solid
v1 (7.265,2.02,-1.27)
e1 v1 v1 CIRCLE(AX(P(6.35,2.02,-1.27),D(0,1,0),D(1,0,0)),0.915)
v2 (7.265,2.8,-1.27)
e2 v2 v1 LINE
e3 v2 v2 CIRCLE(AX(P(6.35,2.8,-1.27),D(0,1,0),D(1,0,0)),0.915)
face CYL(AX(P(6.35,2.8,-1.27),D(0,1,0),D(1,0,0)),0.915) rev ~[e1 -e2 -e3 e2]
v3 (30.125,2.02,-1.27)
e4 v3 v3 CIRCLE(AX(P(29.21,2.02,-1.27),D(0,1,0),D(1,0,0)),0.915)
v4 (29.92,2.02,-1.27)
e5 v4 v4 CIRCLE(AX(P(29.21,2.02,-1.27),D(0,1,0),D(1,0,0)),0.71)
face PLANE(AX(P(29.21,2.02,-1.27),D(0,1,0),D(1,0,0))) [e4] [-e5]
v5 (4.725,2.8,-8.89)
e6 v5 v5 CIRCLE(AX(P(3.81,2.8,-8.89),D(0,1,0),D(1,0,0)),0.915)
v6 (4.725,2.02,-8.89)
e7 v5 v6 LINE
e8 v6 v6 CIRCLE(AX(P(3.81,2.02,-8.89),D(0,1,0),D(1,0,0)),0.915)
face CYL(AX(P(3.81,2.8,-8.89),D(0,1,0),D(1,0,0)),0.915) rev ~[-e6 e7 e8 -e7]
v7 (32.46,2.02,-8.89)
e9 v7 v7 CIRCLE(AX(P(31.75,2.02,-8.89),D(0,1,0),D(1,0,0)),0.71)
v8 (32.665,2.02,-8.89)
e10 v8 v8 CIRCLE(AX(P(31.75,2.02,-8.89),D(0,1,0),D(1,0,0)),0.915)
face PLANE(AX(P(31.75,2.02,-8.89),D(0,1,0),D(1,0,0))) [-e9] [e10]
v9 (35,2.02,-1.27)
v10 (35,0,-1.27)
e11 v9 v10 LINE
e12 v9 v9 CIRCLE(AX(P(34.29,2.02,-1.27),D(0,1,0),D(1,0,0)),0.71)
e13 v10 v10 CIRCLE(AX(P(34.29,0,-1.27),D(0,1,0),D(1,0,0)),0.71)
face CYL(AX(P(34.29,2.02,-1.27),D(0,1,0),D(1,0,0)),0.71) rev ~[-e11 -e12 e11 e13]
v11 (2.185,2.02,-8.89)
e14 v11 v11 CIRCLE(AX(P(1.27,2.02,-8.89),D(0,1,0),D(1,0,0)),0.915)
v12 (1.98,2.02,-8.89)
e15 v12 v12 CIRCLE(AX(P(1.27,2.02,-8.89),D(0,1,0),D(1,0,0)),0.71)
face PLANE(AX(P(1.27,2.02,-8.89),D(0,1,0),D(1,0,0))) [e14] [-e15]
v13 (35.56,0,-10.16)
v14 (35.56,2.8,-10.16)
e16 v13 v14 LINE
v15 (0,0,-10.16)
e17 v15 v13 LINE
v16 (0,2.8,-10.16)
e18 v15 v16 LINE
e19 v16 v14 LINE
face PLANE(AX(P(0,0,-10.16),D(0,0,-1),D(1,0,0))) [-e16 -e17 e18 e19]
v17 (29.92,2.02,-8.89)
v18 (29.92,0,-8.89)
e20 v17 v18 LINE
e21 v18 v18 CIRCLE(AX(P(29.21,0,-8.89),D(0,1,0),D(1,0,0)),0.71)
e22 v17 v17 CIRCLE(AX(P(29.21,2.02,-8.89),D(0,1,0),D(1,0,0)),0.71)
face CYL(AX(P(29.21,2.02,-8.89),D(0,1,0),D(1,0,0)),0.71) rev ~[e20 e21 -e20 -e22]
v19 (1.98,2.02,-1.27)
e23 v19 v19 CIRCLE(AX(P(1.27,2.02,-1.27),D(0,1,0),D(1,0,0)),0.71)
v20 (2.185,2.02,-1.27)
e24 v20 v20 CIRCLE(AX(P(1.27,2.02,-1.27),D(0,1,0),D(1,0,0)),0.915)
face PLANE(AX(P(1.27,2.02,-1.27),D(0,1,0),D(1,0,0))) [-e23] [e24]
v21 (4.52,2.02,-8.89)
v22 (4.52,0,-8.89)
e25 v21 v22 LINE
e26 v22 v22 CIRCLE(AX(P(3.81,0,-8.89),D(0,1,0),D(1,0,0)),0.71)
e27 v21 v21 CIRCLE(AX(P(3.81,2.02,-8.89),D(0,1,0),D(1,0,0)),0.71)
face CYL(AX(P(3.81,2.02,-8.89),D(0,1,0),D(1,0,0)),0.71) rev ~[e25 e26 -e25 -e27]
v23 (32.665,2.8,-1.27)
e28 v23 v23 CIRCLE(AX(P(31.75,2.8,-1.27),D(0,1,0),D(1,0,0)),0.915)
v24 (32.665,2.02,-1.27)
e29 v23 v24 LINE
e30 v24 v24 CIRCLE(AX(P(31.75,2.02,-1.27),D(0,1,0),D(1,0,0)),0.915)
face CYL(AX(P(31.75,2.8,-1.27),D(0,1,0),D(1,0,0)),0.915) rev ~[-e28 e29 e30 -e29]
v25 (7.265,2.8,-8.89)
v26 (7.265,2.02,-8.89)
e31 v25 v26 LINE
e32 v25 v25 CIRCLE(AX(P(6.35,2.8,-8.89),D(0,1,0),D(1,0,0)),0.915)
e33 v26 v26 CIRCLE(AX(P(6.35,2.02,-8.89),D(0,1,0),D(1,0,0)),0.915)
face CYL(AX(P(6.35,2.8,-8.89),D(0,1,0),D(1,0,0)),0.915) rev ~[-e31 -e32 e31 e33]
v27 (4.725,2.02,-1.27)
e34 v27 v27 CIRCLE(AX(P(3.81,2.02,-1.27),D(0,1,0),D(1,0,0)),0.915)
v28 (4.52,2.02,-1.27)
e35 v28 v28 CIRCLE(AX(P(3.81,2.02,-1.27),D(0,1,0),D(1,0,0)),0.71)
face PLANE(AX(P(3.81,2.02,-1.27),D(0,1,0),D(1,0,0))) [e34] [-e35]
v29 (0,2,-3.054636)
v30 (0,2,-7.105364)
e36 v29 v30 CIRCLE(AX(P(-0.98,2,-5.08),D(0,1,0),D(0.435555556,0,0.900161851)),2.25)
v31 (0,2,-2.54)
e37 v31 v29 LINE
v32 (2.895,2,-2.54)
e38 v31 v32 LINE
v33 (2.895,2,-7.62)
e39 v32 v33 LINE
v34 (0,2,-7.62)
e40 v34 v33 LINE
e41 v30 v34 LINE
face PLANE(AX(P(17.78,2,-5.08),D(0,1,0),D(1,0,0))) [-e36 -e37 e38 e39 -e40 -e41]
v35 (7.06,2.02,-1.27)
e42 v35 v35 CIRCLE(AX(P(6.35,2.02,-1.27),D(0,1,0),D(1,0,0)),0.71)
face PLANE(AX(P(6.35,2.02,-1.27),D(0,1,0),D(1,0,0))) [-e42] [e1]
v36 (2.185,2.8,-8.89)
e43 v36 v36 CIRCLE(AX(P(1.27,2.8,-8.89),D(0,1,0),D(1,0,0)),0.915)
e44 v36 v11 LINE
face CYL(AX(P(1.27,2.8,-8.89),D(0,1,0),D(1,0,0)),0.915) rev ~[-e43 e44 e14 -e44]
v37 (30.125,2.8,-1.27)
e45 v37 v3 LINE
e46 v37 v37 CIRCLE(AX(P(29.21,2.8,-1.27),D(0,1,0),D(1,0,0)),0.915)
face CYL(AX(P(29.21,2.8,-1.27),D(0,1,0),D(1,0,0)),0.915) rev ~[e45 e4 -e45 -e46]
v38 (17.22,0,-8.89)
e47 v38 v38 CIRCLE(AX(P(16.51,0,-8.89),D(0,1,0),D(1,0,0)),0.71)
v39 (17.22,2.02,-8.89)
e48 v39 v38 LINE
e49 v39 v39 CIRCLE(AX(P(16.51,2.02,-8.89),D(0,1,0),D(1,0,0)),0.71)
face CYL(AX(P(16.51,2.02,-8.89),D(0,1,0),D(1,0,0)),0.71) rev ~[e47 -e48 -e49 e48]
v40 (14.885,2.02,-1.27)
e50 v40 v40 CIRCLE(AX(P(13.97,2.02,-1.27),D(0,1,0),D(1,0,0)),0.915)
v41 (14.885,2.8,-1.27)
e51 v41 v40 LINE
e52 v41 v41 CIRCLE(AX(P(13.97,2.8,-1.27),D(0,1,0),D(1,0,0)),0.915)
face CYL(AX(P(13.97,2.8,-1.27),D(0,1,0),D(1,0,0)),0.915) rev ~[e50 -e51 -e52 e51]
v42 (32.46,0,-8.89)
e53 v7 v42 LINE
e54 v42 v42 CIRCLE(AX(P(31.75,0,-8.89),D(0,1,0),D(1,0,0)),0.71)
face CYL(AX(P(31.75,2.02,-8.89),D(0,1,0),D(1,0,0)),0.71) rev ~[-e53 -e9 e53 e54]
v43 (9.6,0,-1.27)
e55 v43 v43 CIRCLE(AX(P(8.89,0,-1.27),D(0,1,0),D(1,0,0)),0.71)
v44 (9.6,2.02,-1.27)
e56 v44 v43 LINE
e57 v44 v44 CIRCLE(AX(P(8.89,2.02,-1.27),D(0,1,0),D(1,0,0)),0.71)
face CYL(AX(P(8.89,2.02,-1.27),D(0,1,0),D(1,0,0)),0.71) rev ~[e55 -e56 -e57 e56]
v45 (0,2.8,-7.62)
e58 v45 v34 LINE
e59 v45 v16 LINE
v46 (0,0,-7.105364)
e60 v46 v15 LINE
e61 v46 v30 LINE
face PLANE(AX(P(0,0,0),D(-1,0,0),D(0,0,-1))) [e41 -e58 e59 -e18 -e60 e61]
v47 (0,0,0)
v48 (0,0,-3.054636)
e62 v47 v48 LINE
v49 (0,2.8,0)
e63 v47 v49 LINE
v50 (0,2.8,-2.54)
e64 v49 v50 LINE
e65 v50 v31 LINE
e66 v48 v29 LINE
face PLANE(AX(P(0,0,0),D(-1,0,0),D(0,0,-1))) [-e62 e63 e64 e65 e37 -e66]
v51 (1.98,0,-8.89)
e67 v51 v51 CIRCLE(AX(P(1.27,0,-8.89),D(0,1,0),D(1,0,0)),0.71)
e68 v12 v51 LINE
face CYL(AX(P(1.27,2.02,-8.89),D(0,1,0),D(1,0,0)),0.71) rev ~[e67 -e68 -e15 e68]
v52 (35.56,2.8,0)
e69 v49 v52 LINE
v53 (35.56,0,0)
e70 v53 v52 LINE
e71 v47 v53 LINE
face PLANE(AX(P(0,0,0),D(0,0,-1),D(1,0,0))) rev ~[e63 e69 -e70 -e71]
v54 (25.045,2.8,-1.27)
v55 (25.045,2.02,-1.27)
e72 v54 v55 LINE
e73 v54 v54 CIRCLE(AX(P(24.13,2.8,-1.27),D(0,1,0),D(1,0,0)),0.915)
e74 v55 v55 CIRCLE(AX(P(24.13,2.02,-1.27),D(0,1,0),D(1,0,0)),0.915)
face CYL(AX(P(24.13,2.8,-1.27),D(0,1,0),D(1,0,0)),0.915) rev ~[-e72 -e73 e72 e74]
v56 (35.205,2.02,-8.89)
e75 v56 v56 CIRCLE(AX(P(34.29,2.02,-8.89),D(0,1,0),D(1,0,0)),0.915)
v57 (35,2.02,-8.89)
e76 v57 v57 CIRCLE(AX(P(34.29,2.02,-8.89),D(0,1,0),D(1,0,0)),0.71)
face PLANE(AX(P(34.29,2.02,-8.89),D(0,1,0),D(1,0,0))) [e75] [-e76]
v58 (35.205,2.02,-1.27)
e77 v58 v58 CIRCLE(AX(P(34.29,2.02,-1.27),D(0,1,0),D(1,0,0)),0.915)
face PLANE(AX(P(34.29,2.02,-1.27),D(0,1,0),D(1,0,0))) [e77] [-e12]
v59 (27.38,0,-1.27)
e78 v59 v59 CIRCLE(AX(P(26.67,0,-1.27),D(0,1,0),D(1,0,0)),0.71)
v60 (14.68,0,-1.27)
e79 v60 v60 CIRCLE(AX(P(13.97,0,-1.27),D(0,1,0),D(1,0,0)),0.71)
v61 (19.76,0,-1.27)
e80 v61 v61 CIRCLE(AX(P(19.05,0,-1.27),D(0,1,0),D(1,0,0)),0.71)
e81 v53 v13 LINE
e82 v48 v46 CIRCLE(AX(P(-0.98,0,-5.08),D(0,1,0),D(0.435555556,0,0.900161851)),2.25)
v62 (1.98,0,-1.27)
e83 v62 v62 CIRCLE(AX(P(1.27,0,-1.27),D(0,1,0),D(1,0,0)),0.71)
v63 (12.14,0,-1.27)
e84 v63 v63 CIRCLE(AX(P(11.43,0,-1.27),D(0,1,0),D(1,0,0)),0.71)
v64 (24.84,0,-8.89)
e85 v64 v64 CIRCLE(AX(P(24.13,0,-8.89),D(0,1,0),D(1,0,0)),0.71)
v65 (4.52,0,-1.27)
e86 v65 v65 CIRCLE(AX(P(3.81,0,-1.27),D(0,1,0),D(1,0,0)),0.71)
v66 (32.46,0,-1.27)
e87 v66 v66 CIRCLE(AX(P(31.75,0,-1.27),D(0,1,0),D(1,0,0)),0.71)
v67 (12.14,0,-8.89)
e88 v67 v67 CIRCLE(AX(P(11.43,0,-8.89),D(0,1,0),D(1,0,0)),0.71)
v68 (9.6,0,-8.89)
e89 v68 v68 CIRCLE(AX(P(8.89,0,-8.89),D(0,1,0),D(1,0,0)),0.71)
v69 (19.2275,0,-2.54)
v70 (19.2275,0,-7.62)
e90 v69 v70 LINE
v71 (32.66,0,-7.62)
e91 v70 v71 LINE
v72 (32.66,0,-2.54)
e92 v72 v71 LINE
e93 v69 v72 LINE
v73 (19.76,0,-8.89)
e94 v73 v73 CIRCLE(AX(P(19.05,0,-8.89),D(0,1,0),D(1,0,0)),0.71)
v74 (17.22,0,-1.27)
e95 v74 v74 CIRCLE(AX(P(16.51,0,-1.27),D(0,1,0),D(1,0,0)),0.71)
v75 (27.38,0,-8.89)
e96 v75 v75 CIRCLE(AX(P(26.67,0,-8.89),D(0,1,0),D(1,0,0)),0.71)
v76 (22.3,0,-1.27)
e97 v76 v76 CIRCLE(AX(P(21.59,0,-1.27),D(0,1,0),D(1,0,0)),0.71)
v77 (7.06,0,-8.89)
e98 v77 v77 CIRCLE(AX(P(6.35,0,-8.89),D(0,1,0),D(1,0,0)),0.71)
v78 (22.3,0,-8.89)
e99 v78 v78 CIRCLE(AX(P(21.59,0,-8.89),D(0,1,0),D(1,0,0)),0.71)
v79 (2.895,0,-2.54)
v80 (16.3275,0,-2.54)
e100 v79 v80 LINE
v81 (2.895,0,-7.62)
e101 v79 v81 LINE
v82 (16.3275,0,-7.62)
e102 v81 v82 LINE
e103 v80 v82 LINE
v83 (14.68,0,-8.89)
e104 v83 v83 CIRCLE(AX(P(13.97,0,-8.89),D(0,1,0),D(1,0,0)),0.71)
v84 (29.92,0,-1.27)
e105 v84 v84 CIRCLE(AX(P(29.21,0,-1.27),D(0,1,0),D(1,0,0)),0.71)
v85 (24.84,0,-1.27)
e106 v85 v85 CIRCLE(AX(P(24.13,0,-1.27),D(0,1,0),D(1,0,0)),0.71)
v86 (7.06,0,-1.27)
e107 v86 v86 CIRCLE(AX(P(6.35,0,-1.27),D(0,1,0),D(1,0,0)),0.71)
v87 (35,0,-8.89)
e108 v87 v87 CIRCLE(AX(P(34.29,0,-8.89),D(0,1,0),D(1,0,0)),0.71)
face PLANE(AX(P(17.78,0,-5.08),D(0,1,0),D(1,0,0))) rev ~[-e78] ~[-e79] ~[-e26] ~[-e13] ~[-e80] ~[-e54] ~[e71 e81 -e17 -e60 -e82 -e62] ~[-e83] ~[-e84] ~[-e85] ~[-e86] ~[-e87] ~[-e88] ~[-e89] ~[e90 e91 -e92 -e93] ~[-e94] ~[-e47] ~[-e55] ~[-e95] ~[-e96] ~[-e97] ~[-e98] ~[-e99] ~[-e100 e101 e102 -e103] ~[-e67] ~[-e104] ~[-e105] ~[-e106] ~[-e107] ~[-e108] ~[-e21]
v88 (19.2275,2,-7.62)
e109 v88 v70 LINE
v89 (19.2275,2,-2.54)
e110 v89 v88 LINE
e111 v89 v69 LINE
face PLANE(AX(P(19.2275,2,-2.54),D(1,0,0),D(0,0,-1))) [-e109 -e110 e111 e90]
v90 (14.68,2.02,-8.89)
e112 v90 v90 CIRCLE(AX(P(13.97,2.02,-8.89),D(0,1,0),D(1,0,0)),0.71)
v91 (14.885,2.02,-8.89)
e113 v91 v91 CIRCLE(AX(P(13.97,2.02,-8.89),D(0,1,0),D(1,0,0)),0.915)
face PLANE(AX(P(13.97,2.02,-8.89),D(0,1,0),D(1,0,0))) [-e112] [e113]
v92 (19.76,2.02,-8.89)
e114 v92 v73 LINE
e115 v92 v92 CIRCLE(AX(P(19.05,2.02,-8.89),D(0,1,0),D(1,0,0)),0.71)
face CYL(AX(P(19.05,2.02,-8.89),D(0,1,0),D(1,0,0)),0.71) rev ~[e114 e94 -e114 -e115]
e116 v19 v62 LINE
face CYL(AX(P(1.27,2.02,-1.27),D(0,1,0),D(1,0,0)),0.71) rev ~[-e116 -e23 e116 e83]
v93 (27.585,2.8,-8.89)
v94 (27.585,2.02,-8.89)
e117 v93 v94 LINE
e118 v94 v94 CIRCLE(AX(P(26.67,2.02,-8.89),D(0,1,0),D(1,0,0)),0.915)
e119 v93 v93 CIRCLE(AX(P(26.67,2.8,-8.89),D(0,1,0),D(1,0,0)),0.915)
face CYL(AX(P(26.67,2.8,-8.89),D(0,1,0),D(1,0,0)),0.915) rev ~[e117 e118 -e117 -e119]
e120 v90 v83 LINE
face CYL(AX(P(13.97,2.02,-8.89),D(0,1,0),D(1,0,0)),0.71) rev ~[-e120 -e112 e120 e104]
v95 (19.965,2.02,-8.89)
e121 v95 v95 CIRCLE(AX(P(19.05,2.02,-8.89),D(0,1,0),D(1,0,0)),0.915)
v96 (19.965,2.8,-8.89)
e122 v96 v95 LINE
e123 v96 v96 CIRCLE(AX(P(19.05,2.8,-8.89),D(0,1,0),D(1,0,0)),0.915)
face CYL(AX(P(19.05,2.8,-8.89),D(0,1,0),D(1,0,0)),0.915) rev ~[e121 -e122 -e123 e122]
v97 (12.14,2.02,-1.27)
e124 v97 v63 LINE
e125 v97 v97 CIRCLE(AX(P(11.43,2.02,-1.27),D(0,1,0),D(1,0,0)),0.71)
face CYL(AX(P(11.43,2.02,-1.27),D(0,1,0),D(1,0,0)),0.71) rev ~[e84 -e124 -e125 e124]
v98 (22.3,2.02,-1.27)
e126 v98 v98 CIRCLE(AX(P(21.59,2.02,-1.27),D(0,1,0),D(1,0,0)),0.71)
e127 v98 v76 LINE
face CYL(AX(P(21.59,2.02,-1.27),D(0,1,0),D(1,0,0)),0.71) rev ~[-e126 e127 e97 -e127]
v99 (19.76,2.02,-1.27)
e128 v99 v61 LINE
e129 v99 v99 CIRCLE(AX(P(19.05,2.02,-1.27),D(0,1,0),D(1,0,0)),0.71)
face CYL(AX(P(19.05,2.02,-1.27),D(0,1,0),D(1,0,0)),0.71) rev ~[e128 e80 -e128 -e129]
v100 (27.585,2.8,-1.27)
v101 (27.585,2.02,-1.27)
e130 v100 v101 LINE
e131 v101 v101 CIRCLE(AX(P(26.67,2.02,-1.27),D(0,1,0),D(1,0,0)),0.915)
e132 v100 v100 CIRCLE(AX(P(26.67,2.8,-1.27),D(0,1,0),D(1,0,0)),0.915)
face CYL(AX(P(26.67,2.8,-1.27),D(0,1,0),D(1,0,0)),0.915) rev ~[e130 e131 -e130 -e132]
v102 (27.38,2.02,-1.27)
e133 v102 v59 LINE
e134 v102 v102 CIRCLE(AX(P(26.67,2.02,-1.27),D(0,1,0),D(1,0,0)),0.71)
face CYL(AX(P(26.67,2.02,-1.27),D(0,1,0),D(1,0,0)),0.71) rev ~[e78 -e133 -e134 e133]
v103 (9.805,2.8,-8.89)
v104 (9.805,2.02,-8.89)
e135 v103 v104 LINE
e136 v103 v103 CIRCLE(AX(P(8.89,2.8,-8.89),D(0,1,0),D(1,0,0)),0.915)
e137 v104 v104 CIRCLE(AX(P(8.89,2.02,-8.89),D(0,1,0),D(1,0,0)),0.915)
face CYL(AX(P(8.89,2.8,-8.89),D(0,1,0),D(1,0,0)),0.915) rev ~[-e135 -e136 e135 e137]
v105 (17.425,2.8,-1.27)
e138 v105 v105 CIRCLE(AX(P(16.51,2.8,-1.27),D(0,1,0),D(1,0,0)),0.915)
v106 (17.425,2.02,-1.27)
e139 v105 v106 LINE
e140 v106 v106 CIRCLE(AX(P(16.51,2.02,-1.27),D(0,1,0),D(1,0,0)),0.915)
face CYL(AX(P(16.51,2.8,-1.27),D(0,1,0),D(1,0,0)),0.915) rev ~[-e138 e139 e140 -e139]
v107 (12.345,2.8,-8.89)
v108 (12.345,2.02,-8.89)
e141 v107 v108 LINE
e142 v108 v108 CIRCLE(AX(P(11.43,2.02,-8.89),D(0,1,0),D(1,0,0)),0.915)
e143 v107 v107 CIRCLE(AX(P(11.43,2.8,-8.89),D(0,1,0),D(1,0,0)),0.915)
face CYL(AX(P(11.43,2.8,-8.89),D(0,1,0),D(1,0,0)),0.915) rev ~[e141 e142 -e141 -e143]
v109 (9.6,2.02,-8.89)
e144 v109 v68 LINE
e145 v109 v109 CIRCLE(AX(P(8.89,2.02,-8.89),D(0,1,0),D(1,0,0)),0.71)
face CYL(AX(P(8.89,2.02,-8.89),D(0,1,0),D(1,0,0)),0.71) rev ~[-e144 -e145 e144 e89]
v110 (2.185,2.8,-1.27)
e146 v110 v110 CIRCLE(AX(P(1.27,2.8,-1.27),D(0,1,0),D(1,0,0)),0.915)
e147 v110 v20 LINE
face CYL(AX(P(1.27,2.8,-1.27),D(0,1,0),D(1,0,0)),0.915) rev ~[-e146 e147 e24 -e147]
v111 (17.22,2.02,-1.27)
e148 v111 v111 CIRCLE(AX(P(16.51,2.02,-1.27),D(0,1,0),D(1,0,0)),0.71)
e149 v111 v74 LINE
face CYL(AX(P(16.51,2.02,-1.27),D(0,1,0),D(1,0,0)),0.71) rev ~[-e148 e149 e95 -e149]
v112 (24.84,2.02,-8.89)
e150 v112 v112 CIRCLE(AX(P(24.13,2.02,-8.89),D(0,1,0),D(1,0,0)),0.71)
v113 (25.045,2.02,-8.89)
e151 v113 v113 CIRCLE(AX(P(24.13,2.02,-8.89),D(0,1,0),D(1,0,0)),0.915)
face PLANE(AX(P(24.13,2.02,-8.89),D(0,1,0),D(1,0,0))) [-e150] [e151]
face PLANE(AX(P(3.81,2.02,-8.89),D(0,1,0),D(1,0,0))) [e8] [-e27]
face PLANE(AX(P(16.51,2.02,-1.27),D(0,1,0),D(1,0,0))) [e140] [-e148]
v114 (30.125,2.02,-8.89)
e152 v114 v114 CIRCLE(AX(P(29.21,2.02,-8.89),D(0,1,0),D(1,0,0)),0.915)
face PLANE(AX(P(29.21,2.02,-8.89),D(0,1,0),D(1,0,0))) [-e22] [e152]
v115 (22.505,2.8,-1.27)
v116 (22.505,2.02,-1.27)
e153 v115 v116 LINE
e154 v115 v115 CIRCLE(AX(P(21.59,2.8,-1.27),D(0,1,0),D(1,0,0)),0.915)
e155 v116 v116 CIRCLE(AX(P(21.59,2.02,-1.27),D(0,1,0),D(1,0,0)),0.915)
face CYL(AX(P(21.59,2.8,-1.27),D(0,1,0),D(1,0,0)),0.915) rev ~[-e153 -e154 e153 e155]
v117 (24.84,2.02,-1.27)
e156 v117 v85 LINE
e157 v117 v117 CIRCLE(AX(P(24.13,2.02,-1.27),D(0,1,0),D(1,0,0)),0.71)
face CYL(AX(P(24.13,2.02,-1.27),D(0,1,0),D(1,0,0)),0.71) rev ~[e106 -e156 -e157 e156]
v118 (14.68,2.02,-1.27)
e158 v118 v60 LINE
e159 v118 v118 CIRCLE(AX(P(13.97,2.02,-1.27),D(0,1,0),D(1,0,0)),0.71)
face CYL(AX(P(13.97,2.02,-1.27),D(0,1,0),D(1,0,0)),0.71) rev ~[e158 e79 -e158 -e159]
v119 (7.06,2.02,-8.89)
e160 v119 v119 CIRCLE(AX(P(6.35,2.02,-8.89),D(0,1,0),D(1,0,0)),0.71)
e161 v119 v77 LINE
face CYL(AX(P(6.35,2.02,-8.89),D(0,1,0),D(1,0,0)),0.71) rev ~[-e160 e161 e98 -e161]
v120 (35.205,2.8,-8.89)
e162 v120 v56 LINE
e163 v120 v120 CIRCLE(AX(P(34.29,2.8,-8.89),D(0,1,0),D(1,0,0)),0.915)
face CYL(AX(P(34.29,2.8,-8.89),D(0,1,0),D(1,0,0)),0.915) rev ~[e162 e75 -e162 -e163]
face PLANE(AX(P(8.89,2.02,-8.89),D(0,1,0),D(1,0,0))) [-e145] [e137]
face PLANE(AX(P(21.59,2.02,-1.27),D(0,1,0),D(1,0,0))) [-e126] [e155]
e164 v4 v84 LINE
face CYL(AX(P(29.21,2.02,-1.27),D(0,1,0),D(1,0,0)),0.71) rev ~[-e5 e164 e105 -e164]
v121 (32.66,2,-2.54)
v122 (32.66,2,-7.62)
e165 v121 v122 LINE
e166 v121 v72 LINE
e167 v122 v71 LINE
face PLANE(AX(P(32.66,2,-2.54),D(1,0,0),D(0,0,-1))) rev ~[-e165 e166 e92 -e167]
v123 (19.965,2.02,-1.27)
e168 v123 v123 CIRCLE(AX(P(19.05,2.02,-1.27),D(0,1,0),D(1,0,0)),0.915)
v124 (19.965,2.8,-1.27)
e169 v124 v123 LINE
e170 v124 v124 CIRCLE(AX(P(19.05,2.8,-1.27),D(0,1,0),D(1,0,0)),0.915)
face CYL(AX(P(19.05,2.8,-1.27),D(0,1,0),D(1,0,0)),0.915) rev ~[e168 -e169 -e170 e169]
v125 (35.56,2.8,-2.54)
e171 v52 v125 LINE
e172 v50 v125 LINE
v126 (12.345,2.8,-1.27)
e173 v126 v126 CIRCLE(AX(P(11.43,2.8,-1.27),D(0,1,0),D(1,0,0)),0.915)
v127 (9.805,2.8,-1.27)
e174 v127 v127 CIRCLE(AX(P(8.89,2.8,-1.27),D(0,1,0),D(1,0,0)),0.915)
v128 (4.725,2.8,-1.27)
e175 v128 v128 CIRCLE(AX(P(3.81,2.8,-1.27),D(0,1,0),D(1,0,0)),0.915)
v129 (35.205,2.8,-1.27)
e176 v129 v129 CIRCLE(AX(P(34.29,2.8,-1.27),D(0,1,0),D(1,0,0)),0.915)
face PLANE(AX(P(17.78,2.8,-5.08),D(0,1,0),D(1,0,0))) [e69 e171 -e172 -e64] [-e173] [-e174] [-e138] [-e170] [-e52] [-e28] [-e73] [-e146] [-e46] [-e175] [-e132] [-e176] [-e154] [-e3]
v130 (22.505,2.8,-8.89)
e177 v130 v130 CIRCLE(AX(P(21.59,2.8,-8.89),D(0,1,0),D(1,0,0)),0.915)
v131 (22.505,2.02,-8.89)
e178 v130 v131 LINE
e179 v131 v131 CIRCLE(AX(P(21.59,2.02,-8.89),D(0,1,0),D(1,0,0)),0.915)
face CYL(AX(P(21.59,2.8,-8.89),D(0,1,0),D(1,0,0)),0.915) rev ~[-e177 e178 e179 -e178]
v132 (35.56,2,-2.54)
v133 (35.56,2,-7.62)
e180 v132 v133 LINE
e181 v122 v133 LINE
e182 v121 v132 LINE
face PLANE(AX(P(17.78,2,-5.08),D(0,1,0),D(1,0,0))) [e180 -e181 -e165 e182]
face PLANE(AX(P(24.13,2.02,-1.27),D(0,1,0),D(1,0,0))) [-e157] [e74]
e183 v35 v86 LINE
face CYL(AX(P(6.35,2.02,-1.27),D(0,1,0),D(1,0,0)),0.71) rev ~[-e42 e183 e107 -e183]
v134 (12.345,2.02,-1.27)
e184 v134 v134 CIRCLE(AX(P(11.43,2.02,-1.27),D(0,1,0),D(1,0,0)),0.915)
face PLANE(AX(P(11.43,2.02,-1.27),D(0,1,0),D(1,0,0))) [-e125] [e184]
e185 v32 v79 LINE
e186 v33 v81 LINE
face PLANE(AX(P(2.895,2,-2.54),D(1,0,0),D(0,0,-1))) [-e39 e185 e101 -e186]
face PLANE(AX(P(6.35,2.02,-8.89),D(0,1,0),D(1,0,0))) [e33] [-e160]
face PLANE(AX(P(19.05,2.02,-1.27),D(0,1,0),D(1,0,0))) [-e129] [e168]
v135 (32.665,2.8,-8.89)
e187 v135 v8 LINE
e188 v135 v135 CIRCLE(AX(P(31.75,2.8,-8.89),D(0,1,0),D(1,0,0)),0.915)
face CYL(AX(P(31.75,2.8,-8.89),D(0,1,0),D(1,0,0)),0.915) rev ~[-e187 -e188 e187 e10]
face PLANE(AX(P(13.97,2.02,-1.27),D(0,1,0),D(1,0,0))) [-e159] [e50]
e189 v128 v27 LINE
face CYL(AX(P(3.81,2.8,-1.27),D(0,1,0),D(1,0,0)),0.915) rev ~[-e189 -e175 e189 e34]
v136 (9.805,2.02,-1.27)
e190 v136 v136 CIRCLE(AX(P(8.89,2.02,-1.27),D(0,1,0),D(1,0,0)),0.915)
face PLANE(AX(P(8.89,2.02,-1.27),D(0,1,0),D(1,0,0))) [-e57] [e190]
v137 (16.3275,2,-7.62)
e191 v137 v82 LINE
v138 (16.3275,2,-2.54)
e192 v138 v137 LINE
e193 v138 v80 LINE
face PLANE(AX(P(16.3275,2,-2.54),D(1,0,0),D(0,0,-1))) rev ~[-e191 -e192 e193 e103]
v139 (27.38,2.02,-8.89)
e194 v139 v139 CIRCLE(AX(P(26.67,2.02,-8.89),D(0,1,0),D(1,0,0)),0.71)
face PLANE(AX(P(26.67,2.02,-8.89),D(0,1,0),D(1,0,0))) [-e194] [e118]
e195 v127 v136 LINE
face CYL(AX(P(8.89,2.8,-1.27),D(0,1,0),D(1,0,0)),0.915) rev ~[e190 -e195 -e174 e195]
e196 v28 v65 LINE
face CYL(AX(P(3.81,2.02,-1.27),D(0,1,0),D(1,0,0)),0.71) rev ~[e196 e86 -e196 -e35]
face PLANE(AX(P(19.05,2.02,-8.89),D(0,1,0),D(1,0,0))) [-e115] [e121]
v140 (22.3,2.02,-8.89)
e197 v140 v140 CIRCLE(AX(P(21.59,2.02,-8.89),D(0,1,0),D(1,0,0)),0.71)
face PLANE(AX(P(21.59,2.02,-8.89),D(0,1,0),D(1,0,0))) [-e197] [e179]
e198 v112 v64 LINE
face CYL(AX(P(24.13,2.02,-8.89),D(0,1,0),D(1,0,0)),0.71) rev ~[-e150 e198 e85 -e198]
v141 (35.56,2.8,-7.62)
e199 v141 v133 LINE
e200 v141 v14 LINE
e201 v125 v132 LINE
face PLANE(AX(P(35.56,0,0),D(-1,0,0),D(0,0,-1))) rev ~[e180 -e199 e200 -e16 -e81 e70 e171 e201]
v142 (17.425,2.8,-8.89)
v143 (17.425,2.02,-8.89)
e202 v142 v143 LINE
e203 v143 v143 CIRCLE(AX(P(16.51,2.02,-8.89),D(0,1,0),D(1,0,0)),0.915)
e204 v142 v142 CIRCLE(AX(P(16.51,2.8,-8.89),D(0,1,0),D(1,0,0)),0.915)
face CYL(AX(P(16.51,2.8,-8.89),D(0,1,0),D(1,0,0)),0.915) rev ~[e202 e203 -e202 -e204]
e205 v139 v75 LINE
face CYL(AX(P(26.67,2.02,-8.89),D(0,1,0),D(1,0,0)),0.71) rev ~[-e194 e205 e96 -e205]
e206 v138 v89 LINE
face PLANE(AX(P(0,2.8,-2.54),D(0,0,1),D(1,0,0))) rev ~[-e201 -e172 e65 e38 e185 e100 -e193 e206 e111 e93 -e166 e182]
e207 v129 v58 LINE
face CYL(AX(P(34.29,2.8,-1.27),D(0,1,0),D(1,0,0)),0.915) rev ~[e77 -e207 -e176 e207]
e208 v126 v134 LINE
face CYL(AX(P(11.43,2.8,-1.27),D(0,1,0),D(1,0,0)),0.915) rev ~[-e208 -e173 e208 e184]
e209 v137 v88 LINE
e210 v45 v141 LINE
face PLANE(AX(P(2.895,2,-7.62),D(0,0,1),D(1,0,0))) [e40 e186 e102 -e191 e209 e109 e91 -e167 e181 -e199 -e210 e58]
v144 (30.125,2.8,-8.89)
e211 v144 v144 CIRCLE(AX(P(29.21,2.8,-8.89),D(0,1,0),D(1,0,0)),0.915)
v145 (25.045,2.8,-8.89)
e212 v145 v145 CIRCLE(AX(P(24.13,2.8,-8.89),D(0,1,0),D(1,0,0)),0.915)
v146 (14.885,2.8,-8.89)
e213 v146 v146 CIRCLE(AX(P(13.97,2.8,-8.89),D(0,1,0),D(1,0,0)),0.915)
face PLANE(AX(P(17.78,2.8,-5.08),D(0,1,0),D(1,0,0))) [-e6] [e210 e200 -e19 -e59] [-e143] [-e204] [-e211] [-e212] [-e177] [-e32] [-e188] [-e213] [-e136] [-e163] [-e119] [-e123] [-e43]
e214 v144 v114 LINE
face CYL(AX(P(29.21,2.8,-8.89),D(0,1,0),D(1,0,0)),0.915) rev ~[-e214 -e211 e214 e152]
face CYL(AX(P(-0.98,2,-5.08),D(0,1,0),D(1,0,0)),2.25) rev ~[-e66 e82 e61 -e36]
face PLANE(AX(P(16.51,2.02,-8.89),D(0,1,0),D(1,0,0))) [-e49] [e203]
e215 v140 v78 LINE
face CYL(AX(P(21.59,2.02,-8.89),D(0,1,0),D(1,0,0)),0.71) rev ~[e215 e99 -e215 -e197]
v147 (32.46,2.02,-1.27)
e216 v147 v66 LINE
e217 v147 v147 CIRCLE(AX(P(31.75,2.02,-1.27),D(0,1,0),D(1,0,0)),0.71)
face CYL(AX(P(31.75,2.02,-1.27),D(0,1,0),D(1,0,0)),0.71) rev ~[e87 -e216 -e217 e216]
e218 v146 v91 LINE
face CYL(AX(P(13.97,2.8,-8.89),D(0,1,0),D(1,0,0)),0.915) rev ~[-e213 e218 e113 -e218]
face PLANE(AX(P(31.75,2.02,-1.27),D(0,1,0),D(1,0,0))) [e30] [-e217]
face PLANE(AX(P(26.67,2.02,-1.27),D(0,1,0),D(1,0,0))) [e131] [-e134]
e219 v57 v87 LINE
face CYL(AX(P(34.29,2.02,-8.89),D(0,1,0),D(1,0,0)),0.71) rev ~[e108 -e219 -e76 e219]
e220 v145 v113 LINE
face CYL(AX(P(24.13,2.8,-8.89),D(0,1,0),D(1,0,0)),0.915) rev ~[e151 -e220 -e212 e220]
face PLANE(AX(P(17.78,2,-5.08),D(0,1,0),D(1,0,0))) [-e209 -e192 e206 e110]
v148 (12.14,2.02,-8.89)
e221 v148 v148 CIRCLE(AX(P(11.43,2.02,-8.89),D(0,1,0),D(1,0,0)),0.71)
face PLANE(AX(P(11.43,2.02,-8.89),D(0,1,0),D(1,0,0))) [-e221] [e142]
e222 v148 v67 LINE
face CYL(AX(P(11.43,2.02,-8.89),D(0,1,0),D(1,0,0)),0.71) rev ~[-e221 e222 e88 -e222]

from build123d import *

# Parameters (mm, degrees)
SKETCH1_W           = 35.56
SKETCH1_H           = 10.16
BOSS_EXTRUDE1_DEPTH = 2.8
SKETCH3_R           = 0.915
CUT_EXTRUDE1_DEPTH  = 0.78
SKETCH4_W           = 35.56
SKETCH4_H           = 5.08
CUT_EXTRUDE2_DEPTH  = 0.8
SKETCH5_R           = 2.25
SKETCH5_W           = 13.4325
SKETCH5_H           = 5.08
CUT_EXTRUDE3_DEPTH  = 3
SKETCH6_R           = 0.71
CUT_EXTRUDE4_DEPTH  = 3.02


with BuildPart() as part:
    # Sketch1 → Boss-Extrude1 (new body)
    with BuildSketch(Plane(origin=(0, 0, 0), x_dir=(1, 0, 0), z_dir=(0, 1, 0))):
        with Locations((17.78, 5.08)):
            Rectangle(SKETCH1_W, SKETCH1_H)
    extrude(amount=BOSS_EXTRUDE1_DEPTH)

    # Sketch3 → Cut-Extrude1 (cut)
    with BuildSketch(Plane(origin=(0, 2.8, 0), x_dir=(1, 0, 0), z_dir=(0, 1, 0))):
        with Locations((1.27, 8.89)):
            Circle(SKETCH3_R)
        with Locations((3.81, 8.89)):
            Circle(SKETCH3_R)
        with Locations((6.35, 8.89)):
            Circle(SKETCH3_R)
        with Locations((8.89, 8.89)):
            Circle(SKETCH3_R)
        with Locations((11.43, 8.89)):
            Circle(SKETCH3_R)
        with Locations((13.97, 8.89)):
            Circle(SKETCH3_R)
        with Locations((16.51, 8.89)):
            Circle(SKETCH3_R)
        with Locations((19.05, 8.89)):
            Circle(SKETCH3_R)
        with Locations((21.59, 8.89)):
            Circle(SKETCH3_R)
        with Locations((24.13, 8.89)):
            Circle(SKETCH3_R)
        with Locations((26.67, 8.89)):
            Circle(SKETCH3_R)
        with Locations((29.21, 8.89)):
            Circle(SKETCH3_R)
        with Locations((31.75, 8.89)):
            Circle(SKETCH3_R)
        with Locations((34.29, 8.89)):
            Circle(SKETCH3_R)
        with Locations((3.81, 1.27)):
            Circle(SKETCH3_R)
        with Locations((6.35, 1.27)):
            Circle(SKETCH3_R)
        with Locations((8.89, 1.27)):
            Circle(SKETCH3_R)
        with Locations((11.43, 1.27)):
            Circle(SKETCH3_R)
        with Locations((13.97, 1.27)):
            Circle(SKETCH3_R)
        with Locations((16.51, 1.27)):
            Circle(SKETCH3_R)
        with Locations((19.05, 1.27)):
            Circle(SKETCH3_R)
        with Locations((21.59, 1.27)):
            Circle(SKETCH3_R)
        with Locations((24.13, 1.27)):
            Circle(SKETCH3_R)
        with Locations((26.67, 1.27)):
            Circle(SKETCH3_R)
        with Locations((29.21, 1.27)):
            Circle(SKETCH3_R)
        with Locations((31.75, 1.27)):
            Circle(SKETCH3_R)
        with Locations((34.29, 1.27)):
            Circle(SKETCH3_R)
        with Locations((1.27, 1.27)):
            Circle(SKETCH3_R)
    extrude(amount=-CUT_EXTRUDE1_DEPTH, mode=Mode.SUBTRACT)

    # Sketch4 → Cut-Extrude2 (cut)
    with BuildSketch(Plane(origin=(0, 2.8, 0), x_dir=(1, 0, 0), z_dir=(0, 1, 0))):
        with Locations((17.78, 5.08)):
            Rectangle(SKETCH4_W, SKETCH4_H)
    extrude(amount=-CUT_EXTRUDE2_DEPTH, mode=Mode.SUBTRACT)

    # Sketch5 → Cut-Extrude3 (cut, through all)
    with BuildSketch(Plane(origin=(0, 2, 0), x_dir=(1, 0, 0), z_dir=(0, 1, 0))):
        with Locations((-0.98, 5.08)):
            Circle(SKETCH5_R)
        with Locations((9.61125, 5.08)):
            Rectangle(SKETCH5_W, SKETCH5_H)
        with Locations((25.94375, 5.08)):
            Rectangle(SKETCH5_W, SKETCH5_H)
    extrude(amount=-CUT_EXTRUDE3_DEPTH, mode=Mode.SUBTRACT)

    # Sketch6 → Cut-Extrude4 (cut, through all)
    with BuildSketch(Plane(origin=(0, 2.02, 0), x_dir=(1, 0, 0), z_dir=(0, 1, 0))):
        with Locations((1.27, 8.89)):
            Circle(SKETCH6_R)
        with Locations((3.81, 8.89)):
            Circle(SKETCH6_R)
        with Locations((6.35, 8.89)):
            Circle(SKETCH6_R)
        with Locations((8.89, 8.89)):
            Circle(SKETCH6_R)
        with Locations((11.43, 8.89)):
            Circle(SKETCH6_R)
        with Locations((13.97, 8.89)):
            Circle(SKETCH6_R)
        with Locations((16.51, 8.89)):
            Circle(SKETCH6_R)
        with Locations((19.05, 8.89)):
            Circle(SKETCH6_R)
        with Locations((21.59, 8.89)):
            Circle(SKETCH6_R)
        with Locations((24.13, 8.89)):
            Circle(SKETCH6_R)
        with Locations((26.67, 8.89)):
            Circle(SKETCH6_R)
        with Locations((29.21, 8.89)):
            Circle(SKETCH6_R)
        with Locations((31.75, 8.89)):
            Circle(SKETCH6_R)
        with Locations((34.29, 8.89)):
            Circle(SKETCH6_R)
        with Locations((3.81, 1.27)):
            Circle(SKETCH6_R)
        with Locations((6.35, 1.27)):
            Circle(SKETCH6_R)
        with Locations((8.89, 1.27)):
            Circle(SKETCH6_R)
        with Locations((11.43, 1.27)):
            Circle(SKETCH6_R)
        with Locations((13.97, 1.27)):
            Circle(SKETCH6_R)
        with Locations((16.51, 1.27)):
            Circle(SKETCH6_R)
        with Locations((19.05, 1.27)):
            Circle(SKETCH6_R)
        with Locations((21.59, 1.27)):
            Circle(SKETCH6_R)
        with Locations((24.13, 1.27)):
            Circle(SKETCH6_R)
        with Locations((26.67, 1.27)):
            Circle(SKETCH6_R)
        with Locations((29.21, 1.27)):
            Circle(SKETCH6_R)
        with Locations((31.75, 1.27)):
            Circle(SKETCH6_R)
        with Locations((34.29, 1.27)):
            Circle(SKETCH6_R)
        with Locations((1.27, 1.27)):
            Circle(SKETCH6_R)
    extrude(amount=-CUT_EXTRUDE4_DEPTH, mode=Mode.SUBTRACT)


solid = part.part
